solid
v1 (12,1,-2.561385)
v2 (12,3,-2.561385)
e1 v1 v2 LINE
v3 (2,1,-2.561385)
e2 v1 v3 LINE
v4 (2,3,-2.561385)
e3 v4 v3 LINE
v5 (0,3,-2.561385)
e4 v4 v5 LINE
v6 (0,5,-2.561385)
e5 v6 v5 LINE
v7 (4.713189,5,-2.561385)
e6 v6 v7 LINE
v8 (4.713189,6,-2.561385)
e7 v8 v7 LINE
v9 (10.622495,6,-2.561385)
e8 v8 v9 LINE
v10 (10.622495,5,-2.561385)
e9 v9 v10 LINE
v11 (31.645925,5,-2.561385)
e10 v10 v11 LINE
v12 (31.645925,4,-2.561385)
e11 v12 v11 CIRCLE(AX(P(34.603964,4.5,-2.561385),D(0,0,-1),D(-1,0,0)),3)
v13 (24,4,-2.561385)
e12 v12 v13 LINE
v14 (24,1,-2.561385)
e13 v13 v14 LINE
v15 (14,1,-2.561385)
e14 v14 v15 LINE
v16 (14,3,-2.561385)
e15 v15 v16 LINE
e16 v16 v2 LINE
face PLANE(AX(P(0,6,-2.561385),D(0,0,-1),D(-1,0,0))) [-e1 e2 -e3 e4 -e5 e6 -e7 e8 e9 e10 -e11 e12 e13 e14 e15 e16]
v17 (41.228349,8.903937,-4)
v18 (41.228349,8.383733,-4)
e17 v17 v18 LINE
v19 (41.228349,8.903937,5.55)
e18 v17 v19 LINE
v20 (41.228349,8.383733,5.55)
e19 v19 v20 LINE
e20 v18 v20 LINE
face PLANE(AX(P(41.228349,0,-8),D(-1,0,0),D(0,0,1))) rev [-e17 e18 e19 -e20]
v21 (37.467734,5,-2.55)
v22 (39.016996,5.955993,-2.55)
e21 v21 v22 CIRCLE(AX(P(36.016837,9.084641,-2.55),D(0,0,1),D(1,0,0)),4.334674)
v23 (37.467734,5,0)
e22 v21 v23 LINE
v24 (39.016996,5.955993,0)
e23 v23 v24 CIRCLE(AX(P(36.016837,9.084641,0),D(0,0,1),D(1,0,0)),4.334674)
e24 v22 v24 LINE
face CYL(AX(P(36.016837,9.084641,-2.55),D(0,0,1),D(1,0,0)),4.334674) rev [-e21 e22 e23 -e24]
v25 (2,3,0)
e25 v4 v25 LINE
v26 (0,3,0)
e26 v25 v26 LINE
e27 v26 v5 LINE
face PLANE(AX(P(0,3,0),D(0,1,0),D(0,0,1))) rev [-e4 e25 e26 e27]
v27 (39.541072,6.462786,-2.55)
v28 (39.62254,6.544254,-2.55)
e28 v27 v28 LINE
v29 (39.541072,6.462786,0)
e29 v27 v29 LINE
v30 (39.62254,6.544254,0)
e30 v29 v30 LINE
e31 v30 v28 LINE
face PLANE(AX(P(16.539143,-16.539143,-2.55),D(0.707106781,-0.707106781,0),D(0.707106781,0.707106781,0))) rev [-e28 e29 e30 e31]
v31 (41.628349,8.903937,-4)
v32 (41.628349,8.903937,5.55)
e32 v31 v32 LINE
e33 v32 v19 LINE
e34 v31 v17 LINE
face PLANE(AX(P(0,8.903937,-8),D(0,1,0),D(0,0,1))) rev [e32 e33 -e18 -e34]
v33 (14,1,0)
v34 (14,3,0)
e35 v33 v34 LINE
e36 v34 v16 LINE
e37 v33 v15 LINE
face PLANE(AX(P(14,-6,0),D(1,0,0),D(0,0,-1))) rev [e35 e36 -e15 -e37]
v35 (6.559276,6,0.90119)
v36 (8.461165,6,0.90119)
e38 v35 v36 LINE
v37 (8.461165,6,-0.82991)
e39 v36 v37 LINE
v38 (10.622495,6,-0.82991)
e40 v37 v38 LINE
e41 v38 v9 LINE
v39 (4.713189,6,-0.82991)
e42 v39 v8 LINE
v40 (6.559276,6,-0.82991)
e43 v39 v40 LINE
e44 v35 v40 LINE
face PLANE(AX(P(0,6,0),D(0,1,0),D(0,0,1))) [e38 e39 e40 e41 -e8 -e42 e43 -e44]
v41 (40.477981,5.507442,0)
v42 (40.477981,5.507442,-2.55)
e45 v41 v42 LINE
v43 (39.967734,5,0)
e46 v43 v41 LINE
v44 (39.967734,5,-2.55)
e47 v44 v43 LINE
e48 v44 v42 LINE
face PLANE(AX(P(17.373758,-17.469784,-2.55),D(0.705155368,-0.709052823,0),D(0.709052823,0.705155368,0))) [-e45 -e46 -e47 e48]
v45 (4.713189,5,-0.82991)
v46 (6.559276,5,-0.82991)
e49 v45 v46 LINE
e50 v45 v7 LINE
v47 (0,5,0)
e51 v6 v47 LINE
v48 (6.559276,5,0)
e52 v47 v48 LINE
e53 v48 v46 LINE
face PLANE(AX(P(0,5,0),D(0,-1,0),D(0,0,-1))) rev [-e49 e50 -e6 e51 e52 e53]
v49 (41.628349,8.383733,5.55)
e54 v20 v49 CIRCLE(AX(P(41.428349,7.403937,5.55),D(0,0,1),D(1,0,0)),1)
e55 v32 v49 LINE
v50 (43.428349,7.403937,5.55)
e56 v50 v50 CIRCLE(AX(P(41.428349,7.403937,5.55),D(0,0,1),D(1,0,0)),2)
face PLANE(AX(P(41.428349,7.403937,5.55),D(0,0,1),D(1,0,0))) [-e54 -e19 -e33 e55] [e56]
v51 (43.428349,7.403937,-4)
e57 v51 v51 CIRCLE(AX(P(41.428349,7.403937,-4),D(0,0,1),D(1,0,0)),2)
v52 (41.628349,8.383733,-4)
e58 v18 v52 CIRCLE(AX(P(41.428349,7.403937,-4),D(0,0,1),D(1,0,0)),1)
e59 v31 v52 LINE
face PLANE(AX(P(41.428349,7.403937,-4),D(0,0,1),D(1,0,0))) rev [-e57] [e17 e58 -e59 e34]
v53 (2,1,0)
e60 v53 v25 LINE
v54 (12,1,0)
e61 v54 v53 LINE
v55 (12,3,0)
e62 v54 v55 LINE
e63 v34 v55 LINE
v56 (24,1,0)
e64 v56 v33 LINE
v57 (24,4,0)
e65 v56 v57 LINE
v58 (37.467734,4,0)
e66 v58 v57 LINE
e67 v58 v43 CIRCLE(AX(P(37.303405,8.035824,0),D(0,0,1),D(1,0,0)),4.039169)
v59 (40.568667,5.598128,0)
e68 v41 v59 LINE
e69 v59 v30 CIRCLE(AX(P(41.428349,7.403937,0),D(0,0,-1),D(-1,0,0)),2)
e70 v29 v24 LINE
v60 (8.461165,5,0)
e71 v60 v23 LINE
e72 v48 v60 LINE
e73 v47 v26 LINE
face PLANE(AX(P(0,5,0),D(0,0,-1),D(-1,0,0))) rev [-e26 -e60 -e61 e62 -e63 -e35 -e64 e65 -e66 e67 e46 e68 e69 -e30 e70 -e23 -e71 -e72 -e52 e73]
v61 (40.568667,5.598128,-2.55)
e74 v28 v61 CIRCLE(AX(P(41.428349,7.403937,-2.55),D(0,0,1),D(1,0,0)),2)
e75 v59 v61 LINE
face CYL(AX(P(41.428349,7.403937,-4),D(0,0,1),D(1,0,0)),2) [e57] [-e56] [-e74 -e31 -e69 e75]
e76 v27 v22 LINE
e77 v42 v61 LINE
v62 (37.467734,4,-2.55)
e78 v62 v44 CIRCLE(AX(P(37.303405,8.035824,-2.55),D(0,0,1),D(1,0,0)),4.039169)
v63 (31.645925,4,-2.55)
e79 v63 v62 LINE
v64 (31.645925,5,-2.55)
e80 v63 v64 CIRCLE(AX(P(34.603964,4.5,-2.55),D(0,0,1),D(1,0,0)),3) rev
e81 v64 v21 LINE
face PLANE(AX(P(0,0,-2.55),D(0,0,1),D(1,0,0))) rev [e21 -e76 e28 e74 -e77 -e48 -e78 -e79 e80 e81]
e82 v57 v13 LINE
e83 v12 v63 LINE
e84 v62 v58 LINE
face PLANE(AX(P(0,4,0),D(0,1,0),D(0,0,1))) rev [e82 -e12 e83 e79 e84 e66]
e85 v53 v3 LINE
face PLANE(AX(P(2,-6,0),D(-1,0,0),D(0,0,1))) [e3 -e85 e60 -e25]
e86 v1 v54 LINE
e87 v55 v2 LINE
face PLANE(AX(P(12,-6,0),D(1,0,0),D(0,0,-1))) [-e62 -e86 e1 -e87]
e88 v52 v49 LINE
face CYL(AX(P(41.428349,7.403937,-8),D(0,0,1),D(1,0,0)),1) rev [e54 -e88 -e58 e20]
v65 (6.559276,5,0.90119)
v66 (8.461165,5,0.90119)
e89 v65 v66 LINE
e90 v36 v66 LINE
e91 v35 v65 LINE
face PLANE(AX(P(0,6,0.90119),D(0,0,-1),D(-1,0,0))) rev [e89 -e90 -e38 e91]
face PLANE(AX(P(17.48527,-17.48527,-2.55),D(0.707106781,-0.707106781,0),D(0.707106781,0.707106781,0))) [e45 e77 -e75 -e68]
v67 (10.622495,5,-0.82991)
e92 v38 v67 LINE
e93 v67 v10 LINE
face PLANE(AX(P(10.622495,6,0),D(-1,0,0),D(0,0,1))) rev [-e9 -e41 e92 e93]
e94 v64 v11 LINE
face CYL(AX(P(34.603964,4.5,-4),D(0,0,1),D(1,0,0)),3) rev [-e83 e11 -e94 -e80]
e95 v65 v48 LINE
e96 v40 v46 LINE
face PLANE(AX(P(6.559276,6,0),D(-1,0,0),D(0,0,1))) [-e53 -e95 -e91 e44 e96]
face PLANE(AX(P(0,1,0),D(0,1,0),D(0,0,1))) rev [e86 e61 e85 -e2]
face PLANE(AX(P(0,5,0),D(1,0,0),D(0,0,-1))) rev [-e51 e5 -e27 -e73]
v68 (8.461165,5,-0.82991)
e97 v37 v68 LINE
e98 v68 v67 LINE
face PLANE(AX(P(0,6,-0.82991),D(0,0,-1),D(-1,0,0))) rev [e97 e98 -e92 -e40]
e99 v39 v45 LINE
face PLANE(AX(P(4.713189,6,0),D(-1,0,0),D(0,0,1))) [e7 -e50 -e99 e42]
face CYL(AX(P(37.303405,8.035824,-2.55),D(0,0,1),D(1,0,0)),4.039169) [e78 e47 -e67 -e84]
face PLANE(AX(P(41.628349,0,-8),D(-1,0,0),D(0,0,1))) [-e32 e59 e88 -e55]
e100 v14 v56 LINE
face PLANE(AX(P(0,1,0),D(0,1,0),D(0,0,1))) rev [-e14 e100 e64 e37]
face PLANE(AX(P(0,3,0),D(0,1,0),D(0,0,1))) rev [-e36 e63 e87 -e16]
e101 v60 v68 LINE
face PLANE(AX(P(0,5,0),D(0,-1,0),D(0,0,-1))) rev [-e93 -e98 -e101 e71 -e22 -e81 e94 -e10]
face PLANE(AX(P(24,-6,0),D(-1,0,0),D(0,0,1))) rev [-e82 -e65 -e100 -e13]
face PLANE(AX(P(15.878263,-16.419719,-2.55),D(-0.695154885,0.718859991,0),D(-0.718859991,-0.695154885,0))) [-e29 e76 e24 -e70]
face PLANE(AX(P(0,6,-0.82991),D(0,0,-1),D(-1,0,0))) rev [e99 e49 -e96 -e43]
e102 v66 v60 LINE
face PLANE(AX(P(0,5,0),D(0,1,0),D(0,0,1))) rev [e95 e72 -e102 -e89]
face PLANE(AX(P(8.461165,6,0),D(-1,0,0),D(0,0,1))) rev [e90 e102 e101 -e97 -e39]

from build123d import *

# Parameters (mm, degrees)
SKETCH1_W                 = 14
SKETCH1_H                 = 10
BOSS_EXTRUDE1_DEPTH       = 5
SKETCH2_W                 = 1.137458902
SKETCH2_H                 = 1.700915576
SKETCH2_W_2               = 1
SKETCH2_H_2               = 2
BOSS_EXTRUDE2_DEPTH       = 3
SKETCH3_W                 = 14
SKETCH3_H                 = 10
CUT_EXTRUDE1_DEPTH        = 3
BOSS_EXTRUDE3_DEPTH       = 9
SKETCH6_W                 = 10
SKETCH6_H                 = 2
BOSS_EXTRUDE4_DEPTH       = 43
BOSS_EXTRUDE5_DEPTH       = 23
BOSS_EXTRUDE5_DEPTH_BACK  = 14
SKETCH7_R                 = 5
SKETCH8_W                 = 10
SKETCH8_H                 = 3
BOSS_EXTRUDE6_DEPTH       = 9
SKETCH9_W                 = 1.004791017
SKETCH9_H                 = 1.799084424
SKETCH9_W_2               = 0.997604491
SKETCH9_W_3               = 1.997604492
SKETCH9_H_2               = 1.5
BOSS_EXTRUDE7_DEPTH       = 3
SKETCH10_W                = 1.001197754
SKETCH10_H                = 2.999195309
CUT_EXTRUDE2_DEPTH        = 3
CUT_EXTRUDE3_DEPTH        = 43
SKETCH12_W                = 2.137458902
SKETCH12_H                = 2
SKETCH12_W_2              = 1
SKETCH12_H_2              = 1.700915576
SKETCH12_W_3              = 0.862541098
SKETCH12_W_4              = 1.997604492
SKETCH12_H_3              = 1.5
SKETCH12_H_4              = 3
SKETCH12_W_5              = 1.001197754
CUT_EXTRUDE4_DEPTH        = 4
SKETCH14_W                = 28.101020514
SKETCH14_H                = 7
CUT_EXTRUDE6_DEPTH        = 4
SKETCH15_W                = 1.997604492
SKETCH15_H                = 1.337298545
SKETCH15_W_2              = 2.137458902
SKETCH15_H_2              = 1.038214121
BOSS_EXTRUDE8_DEPTH       = 1
SKETCH16_W                = 2.161329906
SKETCH16_H                = 1.731474724
SKETCH16_W_2              = 1.90188885
SKETCH16_H_2              = 1.406872125
SKETCH16_H_3              = 0.901189682
SKETCH16_W_3              = 1.846086898
SKETCH16_H_4              = 0.829910231
SKETCH16_H_5              = 0.438615045
BOSS_EXTRUDE9_DEPTH       = 1
SKETCH17_W                = 28.101020514
SKETCH17_H                = 3
CUT_EXTRUDE7_DEPTH        = 1
CUT_EXTRUDE8_START        = -7
SKETCH18_R                = 5
CUT_EXTRUDE8_DEPTH        = 7
SKETCH19_R                = 5
CUT_EXTRUDE9_DEPTH        = 8
CUT_EXTRUDE10_START       = -31
SKETCH20_R                = 5
CUT_EXTRUDE10_DEPTH       = 31
SKETCH21_W                = 17.497056098
SKETCH21_H                = 3
CUT_EXTRUDE11_DEPTH       = 31
SKETCH22_W                = 10
SKETCH22_H                = 3
CUT_EXTRUDE12_DEPTH       = 7
SKETCH23_W                = 1.90188885
SKETCH23_H                = 1.406872125
CUT_EXTRUDE13_DEPTH       = 2
BOSS_EXTRUDE10_DEPTH      = 10
BOSS_EXTRUDE10_DEPTH_BACK = 6
SKETCH24_R                = 3
CUT_EXTRUDE14_DEPTH       = 16
CUT_EXTRUDE18_START       = -10
SKETCH26_R                = 3
SKETCH26_R_2              = 2.5
CUT_EXTRUDE18_DEPTH       = 10
SKETCH27_R                = 3
CUT_EXTRUDE19_DEPTH       = 3
CUT_EXTRUDE20_START       = -4
SKETCH28_R                = 2.5
CUT_EXTRUDE20_DEPTH       = 4
CUT_EXTRUDE22_DEPTH       = 2
CUT_EXTRUDE22_DEPTH_BACK  = 7
SKETCH29_W                = 4.063218756
SKETCH29_H                = 0.438615045
SKETCH29_W_2              = 21.023429879
CUT_EXTRUDE23_START       = -10
SKETCH30_R                = 3
CUT_EXTRUDE23_DEPTH       = 10
BOSS_EXTRUDE11_START      = -2.55
BOSS_EXTRUDE11_DEPTH      = 2.55
BOSS_EXTRUDE12_DEPTH      = 7.55
BOSS_EXTRUDE12_DEPTH_BACK = 6
CUT_EXTRUDE24_DEPTH       = 13.55
BOSS_EXTRUDE13_DEPTH      = 2.55
BOSS_EXTRUDE14_DEPTH      = 6.55
BOSS_EXTRUDE14_DEPTH_BACK = 4
SKETCH35_R                = 2
CUT_EXTRUDE25_START       = -14.55
SKETCH36_R                = 2
CUT_EXTRUDE25_DEPTH       = 14.55
BOSS_EXTRUDE15_DEPTH      = 2.55
SKETCH38_R                = 1
CUT_EXTRUDE26_DEPTH       = 16.55
SKETCH39_R                = 2
CUT_EXTRUDE27_DEPTH       = 10.55
BOSS_EXTRUDE16_DEPTH      = 2.55
BOSS_EXTRUDE17_DEPTH      = 5.55
BOSS_EXTRUDE17_DEPTH_BACK = 4
SKETCH41_R                = 2
SKETCH42_R                = 1
CUT_EXTRUDE28_DEPTH       = 13.55


with BuildPart() as part:
    # Sketch1 → Boss-Extrude1 (new body)
    with BuildSketch(Plane(origin=(0, 0, 0), x_dir=(1, 0, 0), z_dir=(0, 1, 0))):
        with Locations((7, 5)):
            Rectangle(SKETCH1_W, SKETCH1_H)
    extrude(amount=BOSS_EXTRUDE1_DEPTH)

    # Sketch2 → Boss-Extrude2 (add)
    with BuildSketch(Plane(origin=(0, 5, 0), x_dir=(1, 0, 0), z_dir=(0, 1, 0))):
        with Locations((7.568729451, 6.812243667)):
            Rectangle(SKETCH2_W, SKETCH2_H)
        with Locations((6.5, 6.812243667)):
            Rectangle(SKETCH2_W_2, SKETCH2_H)
        Polygon((7, 5), (7, 5.961785879), (6, 5.961785879), (5, 5.961785879), (5, 5), align=None)
        Polygon((7, 3.961785879), (7, 5), (5, 5), (5, 3.961785879), (6, 3.961785879), align=None)
        Polygon((8.137458902, 5.961785879), (7, 5.961785879), (7, 5), (9, 5), (9, 5.961785879), align=None)
        Polygon((9, 5), (7, 5), (7, 3.961785879), (8.137458902, 3.961785879), (9, 3.961785879), align=None)
        with Locations((6.5, 2.961785879)):
            Rectangle(SKETCH2_W_2, SKETCH2_H_2)
        with Locations((7.568729451, 2.961785879)):
            Rectangle(SKETCH2_W, SKETCH2_H_2)
    extrude(amount=BOSS_EXTRUDE2_DEPTH)

    # Sketch3 → Cut-Extrude1 (cut)
    with BuildSketch(Plane.XZ):
        with Locations((7, -5)):
            Rectangle(SKETCH3_W, SKETCH3_H)
    extrude(amount=-CUT_EXTRUDE1_DEPTH, mode=Mode.SUBTRACT)

    # Sketch5 → Boss-Extrude3 (add)
    with BuildSketch(Plane.XZ.offset(-3)):
        Polygon((12, 0), (7, 0), (2, 0), (2, -3), (12, -3), align=None)
    extrude(amount=BOSS_EXTRUDE3_DEPTH)

    # Sketch6 → Boss-Extrude4 (add)
    with BuildSketch(Plane(origin=(14, 0, 0), x_dir=(0, 0, -1), z_dir=(1, 0, 0))):
        with Locations((5, 4)):
            Rectangle(SKETCH6_W, SKETCH6_H)
    extrude(amount=BOSS_EXTRUDE4_DEPTH)

    # Sketch7 → Boss-Extrude5 (add, two sides: drawn at the far end of the back side and taken through both)
    with BuildSketch(Plane.XY.offset(-BOSS_EXTRUDE5_DEPTH_BACK)):
        with Locations((57, 4)):
            Circle(SKETCH7_R)
    extrude(amount=BOSS_EXTRUDE5_DEPTH + BOSS_EXTRUDE5_DEPTH_BACK)

    # Sketch8 → Boss-Extrude6 (add)
    with BuildSketch(Plane(origin=(0, 3, 0), x_dir=(-1, 0, 0), z_dir=(0, -1, 0))):
        with Locations((-19, 1.5)):
            Rectangle(SKETCH8_W, SKETCH8_H)
    extrude(amount=BOSS_EXTRUDE6_DEPTH)

    # Sketch9 → Boss-Extrude7 (add)
    with BuildSketch(Plane(origin=(0, 5, 0), x_dir=(1, 0, 0), z_dir=(0, 1, 0))):
        Polygon((17.004791017, 6.161896764), (17.004791017, 5.457884441), (18.002395508, 5.20983516), (18.002395508, 6.161896764), align=None)
        Polygon((16, 6.161896764), (16, 5.707720615), (17.004791017, 5.457884441), (17.004791017, 6.161896764), (16.100648674, 6.161896764), align=None)
        Polygon((16, 5.707720615), (16, 4.961785879), (17.004791017, 4.961785879), (17.004791017, 5.457884441), align=None)
        Polygon((17.004791017, 5.457884441), (17.004791017, 4.961785879), (18.002395508, 4.961785879), (18.002395508, 5.20983516), align=None)
        with Locations((16.502395509, 4.062243667)):
            Rectangle(SKETCH9_W, SKETCH9_H)
        with Locations((17.503593263, 4.062243667)):
            Rectangle(SKETCH9_W_2, SKETCH9_H)
        Polygon((18.002395508, 5.20983516), (18.002395508, 4.961785879), (19, 4.961785879), align=None)
        Polygon((19, 4.961785879), (18.002395508, 4.961785879), (18.002395508, 3.162701455), (20, 3.162701455), (20, 4.662701455), (20, 6.162701455), (20, 7.662701455), (19, 7.662701455), (18.002395508, 7.662701455), (18.002395508, 6.161896764), (18.002395508, 5.20983516), align=None)
        Polygon((20, 4.662701455), (20, 3.162701455), (21, 3.162701455), (21, 6.162701455), (20, 6.162701455), align=None)
        with Locations((19.001197754, 2.412701455)):
            Rectangle(SKETCH9_W_3, SKETCH9_H_2)
    extrude(amount=BOSS_EXTRUDE7_DEPTH)

    # Sketch10 → Cut-Extrude2 (cut)
    with BuildSketch(Plane(origin=(0, 8, 0), x_dir=(1, 0, 0), z_dir=(0, 1, 0))):
        with Locations((16.500598877, 4.66229911)):
            Rectangle(SKETCH10_W, SKETCH10_H)
    extrude(amount=-CUT_EXTRUDE2_DEPTH, mode=Mode.SUBTRACT)

    # Sketch11 → Cut-Extrude3 (cut)
    with BuildSketch(Plane.XY.offset(23)):
        with BuildLine():
            Line((56.5, 6.795107369), (56.5, 5.936491673))
            ThreePointArc((56.5, 5.936491673), (56.747991415, 5.984059393), (57, 6))
            Line((57, 6), (57, 6.795107369))
            Line((57, 6.795107369), (56.5, 6.795107369))
        make_face()
        with BuildLine():
            ThreePointArc((57, 6), (57.252008585, 5.984059393), (57.5, 5.936491673))
            Line((57.5, 5.936491673), (57.5, 6.795107369))
            Line((57.5, 6.795107369), (57, 6.795107369))
            Line((57, 6.795107369), (57, 6))
        make_face()
        with BuildLine():
            ThreePointArc((56.5, 5.936491673), (55.41886117, 5.224744871), (55, 4))
            Line((55, 4), (59, 4))
            ThreePointArc((59, 4), (58.58113883, 5.224744871), (57.5, 5.936491673))
            ThreePointArc((57.5, 5.936491673), (57.252008585, 5.984059393), (57, 6))
            ThreePointArc((57, 6), (56.747991415, 5.984059393), (56.5, 5.936491673))
        make_face()
        with BuildLine():
            Line((59, 4), (55, 4))
            ThreePointArc((55, 4), (57, 2), (59, 4))
        make_face()
    extrude(amount=-CUT_EXTRUDE3_DEPTH, mode=Mode.SUBTRACT)

    # Sketch12 → Cut-Extrude4 (cut)
    with BuildSketch(Plane(origin=(0, 8, 0), x_dir=(1, 0, 0), z_dir=(0, 1, 0))):
        with Locations((7.068729451, 2.961785879)):
            Rectangle(SKETCH12_W, SKETCH12_H)
        with Locations((7.068729451, 4.961785879)):
            Rectangle(SKETCH12_W, SKETCH12_H)
        with Locations((5.5, 4.961785879)):
            Rectangle(SKETCH12_W_2, SKETCH12_H)
        with Locations((7.068729451, 6.812243667)):
            Rectangle(SKETCH12_W, SKETCH12_H_2)
        with Locations((8.568729451, 4.961785879)):
            Rectangle(SKETCH12_W_3, SKETCH12_H)
        with Locations((19.001197754, 2.412701455)):
            Rectangle(SKETCH12_W_4, SKETCH12_H_3)
        with Locations((19.001197754, 4.662701455)):
            Rectangle(SKETCH12_W_4, SKETCH12_H_4)
        with Locations((20.5, 4.662701455)):
            Rectangle(SKETCH12_W_2, SKETCH12_H_4)
        with Locations((19.001197754, 6.912701455)):
            Rectangle(SKETCH12_W_4, SKETCH12_H_3)
        with Locations((17.501796631, 4.662701455)):
            Rectangle(SKETCH12_W_5, SKETCH12_H_4)
    extrude(amount=-CUT_EXTRUDE4_DEPTH, mode=Mode.SUBTRACT)

    # Sketch14 → Cut-Extrude6 (cut)
    with BuildSketch(Plane.XZ.offset(-3)):
        Polygon((0, -3), (0, -10), (24, -10), (24, -3), (14, -3), (12, -3), (2, -3), align=None)
        with Locations((38.050510257, -6.5)):
            Rectangle(SKETCH14_W, SKETCH14_H)
    extrude(amount=-CUT_EXTRUDE6_DEPTH, mode=Mode.SUBTRACT)

    # Sketch15 → Boss-Extrude8 (add)
    with BuildSketch(Plane(origin=(0, 4, 0), x_dir=(1, 0, 0), z_dir=(0, 1, 0))):
        with Locations((19.001197754, 2.331350728)):
            Rectangle(SKETCH15_W, SKETCH15_H)
        with Locations((7.068729451, 2.48089294)):
            Rectangle(SKETCH15_W_2, SKETCH15_H_2)
    extrude(amount=BOSS_EXTRUDE8_DEPTH)

    # Sketch16 → Boss-Extrude9 (add)
    with BuildSketch(Plane(origin=(0, 5, 0), x_dir=(1, 0, 0), z_dir=(0, 1, 0))):
        with Locations((9.541829693, 1.695647593)):
            Rectangle(SKETCH16_W, SKETCH16_H)
        with Locations((7.510220315, 1.695647593)):
            Rectangle(SKETCH16_W_2, SKETCH16_H)
        with Locations((7.510220315, 3.703436063)):
            Rectangle(SKETCH16_W_2, SKETCH16_H_2)
        with Locations((7.510220315, -0.450594841)):
            Rectangle(SKETCH16_W_2, SKETCH16_H_3)
        with Locations((5.636232441, 1.695647593)):
            Rectangle(SKETCH16_W_3, SKETCH16_H)
        with Locations((7.510220315, 0.414955116)):
            Rectangle(SKETCH16_W_2, SKETCH16_H_4)
        with Locations((7.510220315, 2.780692478)):
            Rectangle(SKETCH16_W_2, SKETCH16_H_5)
    extrude(amount=BOSS_EXTRUDE9_DEPTH)

    # Sketch17 → Cut-Extrude7 (cut)
    with BuildSketch(Plane.XZ.offset(-3)):
        with Locations((38.050510257, -1.5)):
            Rectangle(SKETCH17_W, SKETCH17_H)
    extrude(amount=-CUT_EXTRUDE7_DEPTH, mode=Mode.SUBTRACT)

    # Sketch18 → Cut-Extrude8 (cut)
    with BuildSketch(Plane.XY.offset(23).offset(CUT_EXTRUDE8_START)):
        with Locations((57, 4)):
            Circle(SKETCH18_R)
    extrude(amount=CUT_EXTRUDE8_DEPTH, mode=Mode.SUBTRACT)

    # Sketch19 → Cut-Extrude9 (cut)
    with BuildSketch(Plane(origin=(0, 0, -14), x_dir=(-1, 0, 0), z_dir=(0, 0, -1))):
        with Locations((-57, 4)):
            Circle(SKETCH19_R)
    extrude(amount=-CUT_EXTRUDE9_DEPTH, mode=Mode.SUBTRACT)

    # Sketch20 → Cut-Extrude10 (cut)
    with BuildSketch(Plane.XY.offset(16).offset(CUT_EXTRUDE10_START)):
        with Locations((57, 4)):
            Circle(SKETCH20_R)
    extrude(amount=CUT_EXTRUDE10_DEPTH, mode=Mode.SUBTRACT)

    # Sketch21 → Cut-Extrude11 (cut)
    with BuildSketch(Plane(origin=(0, 5, 0), x_dir=(1, 0, 0), z_dir=(0, 1, 0))):
        with Locations((43.352492465, 1.5)):
            Rectangle(SKETCH21_W, SKETCH21_H)
    extrude(amount=-CUT_EXTRUDE11_DEPTH, mode=Mode.SUBTRACT)

    # Sketch22 → Cut-Extrude12 (cut)
    with BuildSketch(Plane.XZ.offset(6)):
        with Locations((7, -1.5)):
            Rectangle(SKETCH22_W, SKETCH22_H)
        with Locations((19, -1.5)):
            Rectangle(SKETCH22_W, SKETCH22_H)
    extrude(amount=-CUT_EXTRUDE12_DEPTH, mode=Mode.SUBTRACT)

    # Sketch23 → Cut-Extrude13 (cut)
    with BuildSketch(Plane(origin=(0, 6, 0), x_dir=(1, 0, 0), z_dir=(0, 1, 0))):
        with Locations((7.510220315, 3.703436063)):
            Rectangle(SKETCH23_W, SKETCH23_H)
    extrude(amount=-CUT_EXTRUDE13_DEPTH, mode=Mode.SUBTRACT)

    # Sketch24 → Boss-Extrude10 (add, two sides: drawn at the far end of the back side and taken through both)
    with BuildSketch(Plane.XY.offset(-BOSS_EXTRUDE10_DEPTH_BACK)):
        with Locations((34.603964416, 4.5)):
            Circle(SKETCH24_R)
    extrude(amount=BOSS_EXTRUDE10_DEPTH + BOSS_EXTRUDE10_DEPTH_BACK)

    # Sketch25 → Cut-Extrude14 (cut)
    with BuildSketch(Plane.XY.offset(10)):
        with BuildLine():
            ThreePointArc((34.403964416, 5.479795897), (33.829367747, 5.132455532), (33.603964416, 4.5))
            Line((33.603964416, 4.5), (35.603964416, 4.5))
            ThreePointArc((35.603964416, 4.5), (35.378561086, 5.132455532), (34.803964416, 5.479795897))
            ThreePointArc((34.803964416, 5.479795897), (34.704473378, 5.494936153), (34.603964416, 5.5))
            ThreePointArc((34.603964416, 5.5), (34.503455454, 5.494936153), (34.403964416, 5.479795897))
        make_face()
        with BuildLine():
            Line((35.603964416, 4.5), (33.603964416, 4.5))
            ThreePointArc((33.603964416, 4.5), (34.603964416, 3.5), (35.603964416, 4.5))
        make_face()
        Polygon((34.803964416, 5.479795897), (34.603964416, 6), (34.803964416, 6), align=None)
        with BuildLine():
            ThreePointArc((34.603964416, 5.5), (34.704473378, 5.494936153), (34.803964416, 5.479795897))
            Line((34.803964416, 5.479795897), (34.603964416, 6))
            Line((34.603964416, 6), (34.603964416, 5.5))
        make_face()
        with BuildLine():
            Line((34.403964416, 6), (34.403964416, 5.479795897))
            ThreePointArc((34.403964416, 5.479795897), (34.503455454, 5.494936153), (34.603964416, 5.5))
            Line((34.603964416, 5.5), (34.603964416, 6))
            Line((34.603964416, 6), (34.403964416, 6))
        make_face()
    extrude(amount=-CUT_EXTRUDE14_DEPTH, mode=Mode.SUBTRACT)

    # Sketch26 → Cut-Extrude18 (cut)
    with BuildSketch(Plane.XY.offset(10).offset(CUT_EXTRUDE18_START)):
        with Locations((34.603964416, 4.5)):
            Circle(SKETCH26_R)
        with Locations((34.603964416, 4.5)):
            Circle(SKETCH26_R_2, mode=Mode.SUBTRACT)
    extrude(amount=CUT_EXTRUDE18_DEPTH, mode=Mode.SUBTRACT)

    # Sketch27 → Cut-Extrude19 (cut)
    with BuildSketch(Plane(origin=(0, 0, -6), x_dir=(-1, 0, 0), z_dir=(0, 0, -1))):
        with Locations((-34.603964416, 4.5)):
            Circle(SKETCH27_R)
    extrude(amount=-CUT_EXTRUDE19_DEPTH, mode=Mode.SUBTRACT)

    # Sketch28 → Cut-Extrude20 (cut)
    with BuildSketch(Plane.XY.offset(10).offset(CUT_EXTRUDE20_START)):
        with Locations((34.603964416, 4.5)):
            Circle(SKETCH28_R)
    extrude(amount=CUT_EXTRUDE20_DEPTH, mode=Mode.SUBTRACT)

    # Sketch29 → Cut-Extrude22 (cut, two sides: drawn at the far end of the back side and taken through both)
    with BuildSketch(Plane(origin=(0, 5, 0), x_dir=(1, 0, 0), z_dir=(0, 1, 0)).offset(-CUT_EXTRUDE22_DEPTH_BACK)):
        Polygon((6.55927589, 3), (0, 3), (0, 2.561384955), (4.713188992, 2.561384955), (6.55927589, 2.561384955), align=None)
        with Locations((8.590885268, 2.780692478)):
            Rectangle(SKETCH29_W, SKETCH29_H)
        with Locations((21.134209586, 2.780692478)):
            Rectangle(SKETCH29_W_2, SKETCH29_H)
    extrude(amount=CUT_EXTRUDE22_DEPTH + CUT_EXTRUDE22_DEPTH_BACK, mode=Mode.SUBTRACT)

    # Sketch30 → Cut-Extrude23 (cut)
    with BuildSketch(Plane.XY.offset(6).offset(CUT_EXTRUDE23_START)):
        with Locations((34.603964416, 4.5)):
            Circle(SKETCH30_R)
    extrude(amount=CUT_EXTRUDE23_DEPTH, mode=Mode.SUBTRACT)

    # Sketch31 → Boss-Extrude11 (add)
    with BuildSketch(Plane.XY.offset(BOSS_EXTRUDE11_START)):
        with BuildLine():
            ThreePointArc((31.645924525, 5), (31.603964416, 4.5), (31.645924525, 4))
            Line((31.645924525, 4), (37.467734395, 4))
            Line((37.467734395, 4), (37.467734395, 5))
            Line((37.467734395, 5), (31.645924525, 5))
        make_face()
    extrude(amount=BOSS_EXTRUDE11_DEPTH)

    # Sketch32 → Boss-Extrude12 (add, two sides: drawn at the far end of the back side and taken through both)
    with BuildSketch(Plane.XY.offset(-BOSS_EXTRUDE12_DEPTH_BACK)):
        with BuildLine():
            ThreePointArc((36.037292469, 5), (34.100800796, 6.5), (32.164309123, 5))
            Line((32.164309123, 5), (34.100800796, 5))
            Line((34.100800796, 5), (36.037292469, 5))
        make_face()
        with BuildLine():
            ThreePointArc((32.164309123, 5), (32.100800796, 4.5), (32.164309123, 4))
            Line((32.164309123, 4), (34.100800796, 4))
            Line((34.100800796, 4), (34.100800796, 5))
            Line((34.100800796, 5), (32.164309123, 5))
        make_face()
        with BuildLine():
            Line((34.100800796, 5), (34.100800796, 4))
            Line((34.100800796, 4), (36.037292469, 4))
            ThreePointArc((36.037292469, 4), (36.084860189, 4.247991415), (36.100800796, 4.5))
            ThreePointArc((36.100800796, 4.5), (36.084860189, 4.752008585), (36.037292469, 5))
            Line((36.037292469, 5), (34.100800796, 5))
        make_face()
        with BuildLine():
            Line((34.100800796, 4), (32.164309123, 4))
            ThreePointArc((32.164309123, 4), (34.100800796, 2.5), (36.037292469, 4))
            Line((36.037292469, 4), (34.100800796, 4))
        make_face()
    extrude(amount=BOSS_EXTRUDE12_DEPTH + BOSS_EXTRUDE12_DEPTH_BACK)

    # Sketch33 → Cut-Extrude24 (cut)
    with BuildSketch(Plane.XY.offset(7.55)):
        with BuildLine():
            ThreePointArc((33.900800796, 5.479795897), (33.326204127, 5.132455532), (33.100800796, 4.5))
            Line((33.100800796, 4.5), (35.100800796, 4.5))
            ThreePointArc((35.100800796, 4.5), (34.875397465, 5.132455532), (34.300800796, 5.479795897))
            ThreePointArc((34.300800796, 5.479795897), (34.201309758, 5.494936153), (34.100800796, 5.5))
            ThreePointArc((34.100800796, 5.5), (34.000291834, 5.494936153), (33.900800796, 5.479795897))
        make_face()
        with BuildLine():
            Line((35.100800796, 4.5), (33.100800796, 4.5))
            ThreePointArc((33.100800796, 4.5), (34.100800796, 3.5), (35.100800796, 4.5))
        make_face()
        with BuildLine():
            ThreePointArc((34.100800796, 5.5), (34.201309758, 5.494936153), (34.300800796, 5.479795897))
            Line((34.300800796, 5.479795897), (34.100800796, 6))
            Line((34.100800796, 6), (34.100800796, 5.5))
        make_face()
        Polygon((34.300800796, 5.479795897), (34.100800796, 6), (34.300800796, 6), align=None)
        with BuildLine():
            Line((33.900800796, 6), (33.900800796, 5.479795897))
            ThreePointArc((33.900800796, 5.479795897), (34.000291834, 5.494936153), (34.100800796, 5.5))
            Line((34.100800796, 5.5), (34.100800796, 6))
            Line((34.100800796, 6), (33.900800796, 6))
        make_face()
    extrude(amount=-CUT_EXTRUDE24_DEPTH, mode=Mode.SUBTRACT)

    # Sketch34 → Boss-Extrude13 (add)
    with BuildSketch(Plane.XY):
        with BuildLine():
            ThreePointArc((37.467734395, 4), (38.803514189, 4.285550514), (39.967734395, 5))
            Line((39.967734395, 5), (37.467734395, 5))
            Line((37.467734395, 5), (37.467734395, 4))
        make_face()
        with BuildLine():
            ThreePointArc((37.467734395, 5), (38.293118446, 5.395747071), (39.0169964, 5.955992807))
            Line((39.0169964, 5.955992807), (39.967734395, 5))
            Line((39.967734395, 5), (37.467734395, 5))
        make_face()
        Polygon((39.967734395, 5), (41.817668177, 6.83976524), (39.0169964, 5.955992807), align=None)
        Polygon((40.892701286, 7.769844503), (41.817668177, 6.83976524), (39.0169964, 5.955992807), align=None)
    extrude(amount=-BOSS_EXTRUDE13_DEPTH)

    # Sketch35 → Boss-Extrude14 (add, two sides: drawn at the far end of the back side and taken through both)
    with BuildSketch(Plane.XY.offset(-BOSS_EXTRUDE14_DEPTH_BACK)):
        with Locations((41.355184732, 7.304804872)):
            Circle(SKETCH35_R)
    extrude(amount=BOSS_EXTRUDE14_DEPTH + BOSS_EXTRUDE14_DEPTH_BACK)

    # Sketch36 → Cut-Extrude25 (cut)
    with BuildSketch(Plane.XY.offset(7.55).offset(CUT_EXTRUDE25_START)):
        with Locations((34.100800796, 4.5)):
            Circle(SKETCH36_R)
    extrude(amount=CUT_EXTRUDE25_DEPTH, mode=Mode.SUBTRACT)


with BuildPart() as cut_extrude25_piece_1:
    # of the separate pieces the step leaves, piece 1, a body of its own (cut_extrude25_pieces)
    add(part.part.solids().sort_by_distance((12, 3, 0))[0])



with BuildPart() as cut_extrude25_piece_2:
    # of the separate pieces the step leaves, piece 2, a body of its own (cut_extrude25_pieces)
    add(part.part.solids().sort_by_distance((36.037292469, 4, 0))[0])


with BuildPart() as cut_extrude25_piece_1_1:
    add(cut_extrude25_piece_1.part)

    add(cut_extrude25_piece_2.part)  # Boss-Extrude15 merges Cut-Extrude25 piece 2
    # Sketch37 → Boss-Extrude15 (add)
    with BuildSketch(Plane.XY):
        with BuildLine():
            ThreePointArc((32.164309123, 5), (32.100800796, 4.5), (32.164309123, 4))
            Line((32.164309123, 4), (37.272107827, 4))
            Line((37.272107827, 4), (37.272107827, 5))
            Line((37.272107827, 5), (32.164309123, 5))
        make_face()
    extrude(amount=-BOSS_EXTRUDE15_DEPTH)

    # Sketch38 → Cut-Extrude26 (cut)
    with BuildSketch(Plane.XY.offset(6.55)):
        with BuildLine():
            Line((41.355184732, 8.304804872), (41.355184732, 8.804804872))
            Line((41.355184732, 8.804804872), (41.155184732, 8.804804872))
            Line((41.155184732, 8.804804872), (41.155184732, 8.284600769))
            ThreePointArc((41.155184732, 8.284600769), (41.25467577, 8.299741025), (41.355184732, 8.304804872))
        make_face()
        with BuildLine():
            Line((41.555184732, 8.804804872), (41.355184732, 8.804804872))
            Line((41.355184732, 8.804804872), (41.355184732, 8.304804872))
            ThreePointArc((41.355184732, 8.304804872), (41.455693694, 8.299741025), (41.555184732, 8.284600769))
            Line((41.555184732, 8.284600769), (41.555184732, 8.804804872))
        make_face()
        with Locations((41.355184732, 7.304804872)):
            Circle(SKETCH38_R)
    extrude(amount=-CUT_EXTRUDE26_DEPTH, mode=Mode.SUBTRACT)

    # Sketch39 → Cut-Extrude27 (cut)
    with BuildSketch(Plane.XY.offset(6.55)):
        with Locations((41.355184732, 7.304804872)):
            Circle(SKETCH39_R)
    extrude(amount=-CUT_EXTRUDE27_DEPTH, mode=Mode.SUBTRACT)

    # Sketch40 → Boss-Extrude16 (add)
    with BuildSketch(Plane.XY):
        with BuildLine():
            Line((40.955285549, 7.877000055), (40.477980987, 5.507441917))
            ThreePointArc((40.477980987, 5.507441917), (39.92726074, 5.904435965), (39.541071987, 6.462786493))
            Line((39.541071987, 6.462786493), (40.955285549, 7.877000055))
        make_face()
        Polygon((40.477980987, 5.507441917), (41.901412338, 6.930873267), (40.955285549, 7.877000055), align=None)
    extrude(amount=-BOSS_EXTRUDE16_DEPTH)

    # Sketch41 → Boss-Extrude17 (add, two sides: drawn at the far end of the back side and taken through both)
    with BuildSketch(Plane.XY.offset(-BOSS_EXTRUDE17_DEPTH_BACK)):
        with Locations((41.428348943, 7.403936661)):
            Circle(SKETCH41_R)
    extrude(amount=BOSS_EXTRUDE17_DEPTH + BOSS_EXTRUDE17_DEPTH_BACK)

    # Sketch42 → Cut-Extrude28 (cut)
    with BuildSketch(Plane.XY.offset(5.55)):
        with Locations((41.428348943, 7.403936661)):
            Circle(SKETCH42_R)
        with BuildLine():
            Line((41.628348943, 8.383732558), (41.428348943, 8.903936661))
            Line((41.428348943, 8.903936661), (41.428348943, 8.403936661))
            ThreePointArc((41.428348943, 8.403936661), (41.528857906, 8.398872814), (41.628348943, 8.383732558))
        make_face()
        Polygon((41.628348943, 8.383732558), (41.428348943, 8.903936661), (41.628348943, 8.903936661), align=None)
        with BuildLine():
            Line((41.428348943, 8.403936661), (41.428348943, 8.903936661))
            Line((41.428348943, 8.903936661), (41.228348943, 8.903936661))
            Line((41.228348943, 8.903936661), (41.228348943, 8.383732558))
            ThreePointArc((41.228348943, 8.383732558), (41.327839981, 8.398872814), (41.428348943, 8.403936661))
        make_face()
    extrude(amount=-CUT_EXTRUDE28_DEPTH, mode=Mode.SUBTRACT)


solid = cut_extrude25_piece_1_1.part
